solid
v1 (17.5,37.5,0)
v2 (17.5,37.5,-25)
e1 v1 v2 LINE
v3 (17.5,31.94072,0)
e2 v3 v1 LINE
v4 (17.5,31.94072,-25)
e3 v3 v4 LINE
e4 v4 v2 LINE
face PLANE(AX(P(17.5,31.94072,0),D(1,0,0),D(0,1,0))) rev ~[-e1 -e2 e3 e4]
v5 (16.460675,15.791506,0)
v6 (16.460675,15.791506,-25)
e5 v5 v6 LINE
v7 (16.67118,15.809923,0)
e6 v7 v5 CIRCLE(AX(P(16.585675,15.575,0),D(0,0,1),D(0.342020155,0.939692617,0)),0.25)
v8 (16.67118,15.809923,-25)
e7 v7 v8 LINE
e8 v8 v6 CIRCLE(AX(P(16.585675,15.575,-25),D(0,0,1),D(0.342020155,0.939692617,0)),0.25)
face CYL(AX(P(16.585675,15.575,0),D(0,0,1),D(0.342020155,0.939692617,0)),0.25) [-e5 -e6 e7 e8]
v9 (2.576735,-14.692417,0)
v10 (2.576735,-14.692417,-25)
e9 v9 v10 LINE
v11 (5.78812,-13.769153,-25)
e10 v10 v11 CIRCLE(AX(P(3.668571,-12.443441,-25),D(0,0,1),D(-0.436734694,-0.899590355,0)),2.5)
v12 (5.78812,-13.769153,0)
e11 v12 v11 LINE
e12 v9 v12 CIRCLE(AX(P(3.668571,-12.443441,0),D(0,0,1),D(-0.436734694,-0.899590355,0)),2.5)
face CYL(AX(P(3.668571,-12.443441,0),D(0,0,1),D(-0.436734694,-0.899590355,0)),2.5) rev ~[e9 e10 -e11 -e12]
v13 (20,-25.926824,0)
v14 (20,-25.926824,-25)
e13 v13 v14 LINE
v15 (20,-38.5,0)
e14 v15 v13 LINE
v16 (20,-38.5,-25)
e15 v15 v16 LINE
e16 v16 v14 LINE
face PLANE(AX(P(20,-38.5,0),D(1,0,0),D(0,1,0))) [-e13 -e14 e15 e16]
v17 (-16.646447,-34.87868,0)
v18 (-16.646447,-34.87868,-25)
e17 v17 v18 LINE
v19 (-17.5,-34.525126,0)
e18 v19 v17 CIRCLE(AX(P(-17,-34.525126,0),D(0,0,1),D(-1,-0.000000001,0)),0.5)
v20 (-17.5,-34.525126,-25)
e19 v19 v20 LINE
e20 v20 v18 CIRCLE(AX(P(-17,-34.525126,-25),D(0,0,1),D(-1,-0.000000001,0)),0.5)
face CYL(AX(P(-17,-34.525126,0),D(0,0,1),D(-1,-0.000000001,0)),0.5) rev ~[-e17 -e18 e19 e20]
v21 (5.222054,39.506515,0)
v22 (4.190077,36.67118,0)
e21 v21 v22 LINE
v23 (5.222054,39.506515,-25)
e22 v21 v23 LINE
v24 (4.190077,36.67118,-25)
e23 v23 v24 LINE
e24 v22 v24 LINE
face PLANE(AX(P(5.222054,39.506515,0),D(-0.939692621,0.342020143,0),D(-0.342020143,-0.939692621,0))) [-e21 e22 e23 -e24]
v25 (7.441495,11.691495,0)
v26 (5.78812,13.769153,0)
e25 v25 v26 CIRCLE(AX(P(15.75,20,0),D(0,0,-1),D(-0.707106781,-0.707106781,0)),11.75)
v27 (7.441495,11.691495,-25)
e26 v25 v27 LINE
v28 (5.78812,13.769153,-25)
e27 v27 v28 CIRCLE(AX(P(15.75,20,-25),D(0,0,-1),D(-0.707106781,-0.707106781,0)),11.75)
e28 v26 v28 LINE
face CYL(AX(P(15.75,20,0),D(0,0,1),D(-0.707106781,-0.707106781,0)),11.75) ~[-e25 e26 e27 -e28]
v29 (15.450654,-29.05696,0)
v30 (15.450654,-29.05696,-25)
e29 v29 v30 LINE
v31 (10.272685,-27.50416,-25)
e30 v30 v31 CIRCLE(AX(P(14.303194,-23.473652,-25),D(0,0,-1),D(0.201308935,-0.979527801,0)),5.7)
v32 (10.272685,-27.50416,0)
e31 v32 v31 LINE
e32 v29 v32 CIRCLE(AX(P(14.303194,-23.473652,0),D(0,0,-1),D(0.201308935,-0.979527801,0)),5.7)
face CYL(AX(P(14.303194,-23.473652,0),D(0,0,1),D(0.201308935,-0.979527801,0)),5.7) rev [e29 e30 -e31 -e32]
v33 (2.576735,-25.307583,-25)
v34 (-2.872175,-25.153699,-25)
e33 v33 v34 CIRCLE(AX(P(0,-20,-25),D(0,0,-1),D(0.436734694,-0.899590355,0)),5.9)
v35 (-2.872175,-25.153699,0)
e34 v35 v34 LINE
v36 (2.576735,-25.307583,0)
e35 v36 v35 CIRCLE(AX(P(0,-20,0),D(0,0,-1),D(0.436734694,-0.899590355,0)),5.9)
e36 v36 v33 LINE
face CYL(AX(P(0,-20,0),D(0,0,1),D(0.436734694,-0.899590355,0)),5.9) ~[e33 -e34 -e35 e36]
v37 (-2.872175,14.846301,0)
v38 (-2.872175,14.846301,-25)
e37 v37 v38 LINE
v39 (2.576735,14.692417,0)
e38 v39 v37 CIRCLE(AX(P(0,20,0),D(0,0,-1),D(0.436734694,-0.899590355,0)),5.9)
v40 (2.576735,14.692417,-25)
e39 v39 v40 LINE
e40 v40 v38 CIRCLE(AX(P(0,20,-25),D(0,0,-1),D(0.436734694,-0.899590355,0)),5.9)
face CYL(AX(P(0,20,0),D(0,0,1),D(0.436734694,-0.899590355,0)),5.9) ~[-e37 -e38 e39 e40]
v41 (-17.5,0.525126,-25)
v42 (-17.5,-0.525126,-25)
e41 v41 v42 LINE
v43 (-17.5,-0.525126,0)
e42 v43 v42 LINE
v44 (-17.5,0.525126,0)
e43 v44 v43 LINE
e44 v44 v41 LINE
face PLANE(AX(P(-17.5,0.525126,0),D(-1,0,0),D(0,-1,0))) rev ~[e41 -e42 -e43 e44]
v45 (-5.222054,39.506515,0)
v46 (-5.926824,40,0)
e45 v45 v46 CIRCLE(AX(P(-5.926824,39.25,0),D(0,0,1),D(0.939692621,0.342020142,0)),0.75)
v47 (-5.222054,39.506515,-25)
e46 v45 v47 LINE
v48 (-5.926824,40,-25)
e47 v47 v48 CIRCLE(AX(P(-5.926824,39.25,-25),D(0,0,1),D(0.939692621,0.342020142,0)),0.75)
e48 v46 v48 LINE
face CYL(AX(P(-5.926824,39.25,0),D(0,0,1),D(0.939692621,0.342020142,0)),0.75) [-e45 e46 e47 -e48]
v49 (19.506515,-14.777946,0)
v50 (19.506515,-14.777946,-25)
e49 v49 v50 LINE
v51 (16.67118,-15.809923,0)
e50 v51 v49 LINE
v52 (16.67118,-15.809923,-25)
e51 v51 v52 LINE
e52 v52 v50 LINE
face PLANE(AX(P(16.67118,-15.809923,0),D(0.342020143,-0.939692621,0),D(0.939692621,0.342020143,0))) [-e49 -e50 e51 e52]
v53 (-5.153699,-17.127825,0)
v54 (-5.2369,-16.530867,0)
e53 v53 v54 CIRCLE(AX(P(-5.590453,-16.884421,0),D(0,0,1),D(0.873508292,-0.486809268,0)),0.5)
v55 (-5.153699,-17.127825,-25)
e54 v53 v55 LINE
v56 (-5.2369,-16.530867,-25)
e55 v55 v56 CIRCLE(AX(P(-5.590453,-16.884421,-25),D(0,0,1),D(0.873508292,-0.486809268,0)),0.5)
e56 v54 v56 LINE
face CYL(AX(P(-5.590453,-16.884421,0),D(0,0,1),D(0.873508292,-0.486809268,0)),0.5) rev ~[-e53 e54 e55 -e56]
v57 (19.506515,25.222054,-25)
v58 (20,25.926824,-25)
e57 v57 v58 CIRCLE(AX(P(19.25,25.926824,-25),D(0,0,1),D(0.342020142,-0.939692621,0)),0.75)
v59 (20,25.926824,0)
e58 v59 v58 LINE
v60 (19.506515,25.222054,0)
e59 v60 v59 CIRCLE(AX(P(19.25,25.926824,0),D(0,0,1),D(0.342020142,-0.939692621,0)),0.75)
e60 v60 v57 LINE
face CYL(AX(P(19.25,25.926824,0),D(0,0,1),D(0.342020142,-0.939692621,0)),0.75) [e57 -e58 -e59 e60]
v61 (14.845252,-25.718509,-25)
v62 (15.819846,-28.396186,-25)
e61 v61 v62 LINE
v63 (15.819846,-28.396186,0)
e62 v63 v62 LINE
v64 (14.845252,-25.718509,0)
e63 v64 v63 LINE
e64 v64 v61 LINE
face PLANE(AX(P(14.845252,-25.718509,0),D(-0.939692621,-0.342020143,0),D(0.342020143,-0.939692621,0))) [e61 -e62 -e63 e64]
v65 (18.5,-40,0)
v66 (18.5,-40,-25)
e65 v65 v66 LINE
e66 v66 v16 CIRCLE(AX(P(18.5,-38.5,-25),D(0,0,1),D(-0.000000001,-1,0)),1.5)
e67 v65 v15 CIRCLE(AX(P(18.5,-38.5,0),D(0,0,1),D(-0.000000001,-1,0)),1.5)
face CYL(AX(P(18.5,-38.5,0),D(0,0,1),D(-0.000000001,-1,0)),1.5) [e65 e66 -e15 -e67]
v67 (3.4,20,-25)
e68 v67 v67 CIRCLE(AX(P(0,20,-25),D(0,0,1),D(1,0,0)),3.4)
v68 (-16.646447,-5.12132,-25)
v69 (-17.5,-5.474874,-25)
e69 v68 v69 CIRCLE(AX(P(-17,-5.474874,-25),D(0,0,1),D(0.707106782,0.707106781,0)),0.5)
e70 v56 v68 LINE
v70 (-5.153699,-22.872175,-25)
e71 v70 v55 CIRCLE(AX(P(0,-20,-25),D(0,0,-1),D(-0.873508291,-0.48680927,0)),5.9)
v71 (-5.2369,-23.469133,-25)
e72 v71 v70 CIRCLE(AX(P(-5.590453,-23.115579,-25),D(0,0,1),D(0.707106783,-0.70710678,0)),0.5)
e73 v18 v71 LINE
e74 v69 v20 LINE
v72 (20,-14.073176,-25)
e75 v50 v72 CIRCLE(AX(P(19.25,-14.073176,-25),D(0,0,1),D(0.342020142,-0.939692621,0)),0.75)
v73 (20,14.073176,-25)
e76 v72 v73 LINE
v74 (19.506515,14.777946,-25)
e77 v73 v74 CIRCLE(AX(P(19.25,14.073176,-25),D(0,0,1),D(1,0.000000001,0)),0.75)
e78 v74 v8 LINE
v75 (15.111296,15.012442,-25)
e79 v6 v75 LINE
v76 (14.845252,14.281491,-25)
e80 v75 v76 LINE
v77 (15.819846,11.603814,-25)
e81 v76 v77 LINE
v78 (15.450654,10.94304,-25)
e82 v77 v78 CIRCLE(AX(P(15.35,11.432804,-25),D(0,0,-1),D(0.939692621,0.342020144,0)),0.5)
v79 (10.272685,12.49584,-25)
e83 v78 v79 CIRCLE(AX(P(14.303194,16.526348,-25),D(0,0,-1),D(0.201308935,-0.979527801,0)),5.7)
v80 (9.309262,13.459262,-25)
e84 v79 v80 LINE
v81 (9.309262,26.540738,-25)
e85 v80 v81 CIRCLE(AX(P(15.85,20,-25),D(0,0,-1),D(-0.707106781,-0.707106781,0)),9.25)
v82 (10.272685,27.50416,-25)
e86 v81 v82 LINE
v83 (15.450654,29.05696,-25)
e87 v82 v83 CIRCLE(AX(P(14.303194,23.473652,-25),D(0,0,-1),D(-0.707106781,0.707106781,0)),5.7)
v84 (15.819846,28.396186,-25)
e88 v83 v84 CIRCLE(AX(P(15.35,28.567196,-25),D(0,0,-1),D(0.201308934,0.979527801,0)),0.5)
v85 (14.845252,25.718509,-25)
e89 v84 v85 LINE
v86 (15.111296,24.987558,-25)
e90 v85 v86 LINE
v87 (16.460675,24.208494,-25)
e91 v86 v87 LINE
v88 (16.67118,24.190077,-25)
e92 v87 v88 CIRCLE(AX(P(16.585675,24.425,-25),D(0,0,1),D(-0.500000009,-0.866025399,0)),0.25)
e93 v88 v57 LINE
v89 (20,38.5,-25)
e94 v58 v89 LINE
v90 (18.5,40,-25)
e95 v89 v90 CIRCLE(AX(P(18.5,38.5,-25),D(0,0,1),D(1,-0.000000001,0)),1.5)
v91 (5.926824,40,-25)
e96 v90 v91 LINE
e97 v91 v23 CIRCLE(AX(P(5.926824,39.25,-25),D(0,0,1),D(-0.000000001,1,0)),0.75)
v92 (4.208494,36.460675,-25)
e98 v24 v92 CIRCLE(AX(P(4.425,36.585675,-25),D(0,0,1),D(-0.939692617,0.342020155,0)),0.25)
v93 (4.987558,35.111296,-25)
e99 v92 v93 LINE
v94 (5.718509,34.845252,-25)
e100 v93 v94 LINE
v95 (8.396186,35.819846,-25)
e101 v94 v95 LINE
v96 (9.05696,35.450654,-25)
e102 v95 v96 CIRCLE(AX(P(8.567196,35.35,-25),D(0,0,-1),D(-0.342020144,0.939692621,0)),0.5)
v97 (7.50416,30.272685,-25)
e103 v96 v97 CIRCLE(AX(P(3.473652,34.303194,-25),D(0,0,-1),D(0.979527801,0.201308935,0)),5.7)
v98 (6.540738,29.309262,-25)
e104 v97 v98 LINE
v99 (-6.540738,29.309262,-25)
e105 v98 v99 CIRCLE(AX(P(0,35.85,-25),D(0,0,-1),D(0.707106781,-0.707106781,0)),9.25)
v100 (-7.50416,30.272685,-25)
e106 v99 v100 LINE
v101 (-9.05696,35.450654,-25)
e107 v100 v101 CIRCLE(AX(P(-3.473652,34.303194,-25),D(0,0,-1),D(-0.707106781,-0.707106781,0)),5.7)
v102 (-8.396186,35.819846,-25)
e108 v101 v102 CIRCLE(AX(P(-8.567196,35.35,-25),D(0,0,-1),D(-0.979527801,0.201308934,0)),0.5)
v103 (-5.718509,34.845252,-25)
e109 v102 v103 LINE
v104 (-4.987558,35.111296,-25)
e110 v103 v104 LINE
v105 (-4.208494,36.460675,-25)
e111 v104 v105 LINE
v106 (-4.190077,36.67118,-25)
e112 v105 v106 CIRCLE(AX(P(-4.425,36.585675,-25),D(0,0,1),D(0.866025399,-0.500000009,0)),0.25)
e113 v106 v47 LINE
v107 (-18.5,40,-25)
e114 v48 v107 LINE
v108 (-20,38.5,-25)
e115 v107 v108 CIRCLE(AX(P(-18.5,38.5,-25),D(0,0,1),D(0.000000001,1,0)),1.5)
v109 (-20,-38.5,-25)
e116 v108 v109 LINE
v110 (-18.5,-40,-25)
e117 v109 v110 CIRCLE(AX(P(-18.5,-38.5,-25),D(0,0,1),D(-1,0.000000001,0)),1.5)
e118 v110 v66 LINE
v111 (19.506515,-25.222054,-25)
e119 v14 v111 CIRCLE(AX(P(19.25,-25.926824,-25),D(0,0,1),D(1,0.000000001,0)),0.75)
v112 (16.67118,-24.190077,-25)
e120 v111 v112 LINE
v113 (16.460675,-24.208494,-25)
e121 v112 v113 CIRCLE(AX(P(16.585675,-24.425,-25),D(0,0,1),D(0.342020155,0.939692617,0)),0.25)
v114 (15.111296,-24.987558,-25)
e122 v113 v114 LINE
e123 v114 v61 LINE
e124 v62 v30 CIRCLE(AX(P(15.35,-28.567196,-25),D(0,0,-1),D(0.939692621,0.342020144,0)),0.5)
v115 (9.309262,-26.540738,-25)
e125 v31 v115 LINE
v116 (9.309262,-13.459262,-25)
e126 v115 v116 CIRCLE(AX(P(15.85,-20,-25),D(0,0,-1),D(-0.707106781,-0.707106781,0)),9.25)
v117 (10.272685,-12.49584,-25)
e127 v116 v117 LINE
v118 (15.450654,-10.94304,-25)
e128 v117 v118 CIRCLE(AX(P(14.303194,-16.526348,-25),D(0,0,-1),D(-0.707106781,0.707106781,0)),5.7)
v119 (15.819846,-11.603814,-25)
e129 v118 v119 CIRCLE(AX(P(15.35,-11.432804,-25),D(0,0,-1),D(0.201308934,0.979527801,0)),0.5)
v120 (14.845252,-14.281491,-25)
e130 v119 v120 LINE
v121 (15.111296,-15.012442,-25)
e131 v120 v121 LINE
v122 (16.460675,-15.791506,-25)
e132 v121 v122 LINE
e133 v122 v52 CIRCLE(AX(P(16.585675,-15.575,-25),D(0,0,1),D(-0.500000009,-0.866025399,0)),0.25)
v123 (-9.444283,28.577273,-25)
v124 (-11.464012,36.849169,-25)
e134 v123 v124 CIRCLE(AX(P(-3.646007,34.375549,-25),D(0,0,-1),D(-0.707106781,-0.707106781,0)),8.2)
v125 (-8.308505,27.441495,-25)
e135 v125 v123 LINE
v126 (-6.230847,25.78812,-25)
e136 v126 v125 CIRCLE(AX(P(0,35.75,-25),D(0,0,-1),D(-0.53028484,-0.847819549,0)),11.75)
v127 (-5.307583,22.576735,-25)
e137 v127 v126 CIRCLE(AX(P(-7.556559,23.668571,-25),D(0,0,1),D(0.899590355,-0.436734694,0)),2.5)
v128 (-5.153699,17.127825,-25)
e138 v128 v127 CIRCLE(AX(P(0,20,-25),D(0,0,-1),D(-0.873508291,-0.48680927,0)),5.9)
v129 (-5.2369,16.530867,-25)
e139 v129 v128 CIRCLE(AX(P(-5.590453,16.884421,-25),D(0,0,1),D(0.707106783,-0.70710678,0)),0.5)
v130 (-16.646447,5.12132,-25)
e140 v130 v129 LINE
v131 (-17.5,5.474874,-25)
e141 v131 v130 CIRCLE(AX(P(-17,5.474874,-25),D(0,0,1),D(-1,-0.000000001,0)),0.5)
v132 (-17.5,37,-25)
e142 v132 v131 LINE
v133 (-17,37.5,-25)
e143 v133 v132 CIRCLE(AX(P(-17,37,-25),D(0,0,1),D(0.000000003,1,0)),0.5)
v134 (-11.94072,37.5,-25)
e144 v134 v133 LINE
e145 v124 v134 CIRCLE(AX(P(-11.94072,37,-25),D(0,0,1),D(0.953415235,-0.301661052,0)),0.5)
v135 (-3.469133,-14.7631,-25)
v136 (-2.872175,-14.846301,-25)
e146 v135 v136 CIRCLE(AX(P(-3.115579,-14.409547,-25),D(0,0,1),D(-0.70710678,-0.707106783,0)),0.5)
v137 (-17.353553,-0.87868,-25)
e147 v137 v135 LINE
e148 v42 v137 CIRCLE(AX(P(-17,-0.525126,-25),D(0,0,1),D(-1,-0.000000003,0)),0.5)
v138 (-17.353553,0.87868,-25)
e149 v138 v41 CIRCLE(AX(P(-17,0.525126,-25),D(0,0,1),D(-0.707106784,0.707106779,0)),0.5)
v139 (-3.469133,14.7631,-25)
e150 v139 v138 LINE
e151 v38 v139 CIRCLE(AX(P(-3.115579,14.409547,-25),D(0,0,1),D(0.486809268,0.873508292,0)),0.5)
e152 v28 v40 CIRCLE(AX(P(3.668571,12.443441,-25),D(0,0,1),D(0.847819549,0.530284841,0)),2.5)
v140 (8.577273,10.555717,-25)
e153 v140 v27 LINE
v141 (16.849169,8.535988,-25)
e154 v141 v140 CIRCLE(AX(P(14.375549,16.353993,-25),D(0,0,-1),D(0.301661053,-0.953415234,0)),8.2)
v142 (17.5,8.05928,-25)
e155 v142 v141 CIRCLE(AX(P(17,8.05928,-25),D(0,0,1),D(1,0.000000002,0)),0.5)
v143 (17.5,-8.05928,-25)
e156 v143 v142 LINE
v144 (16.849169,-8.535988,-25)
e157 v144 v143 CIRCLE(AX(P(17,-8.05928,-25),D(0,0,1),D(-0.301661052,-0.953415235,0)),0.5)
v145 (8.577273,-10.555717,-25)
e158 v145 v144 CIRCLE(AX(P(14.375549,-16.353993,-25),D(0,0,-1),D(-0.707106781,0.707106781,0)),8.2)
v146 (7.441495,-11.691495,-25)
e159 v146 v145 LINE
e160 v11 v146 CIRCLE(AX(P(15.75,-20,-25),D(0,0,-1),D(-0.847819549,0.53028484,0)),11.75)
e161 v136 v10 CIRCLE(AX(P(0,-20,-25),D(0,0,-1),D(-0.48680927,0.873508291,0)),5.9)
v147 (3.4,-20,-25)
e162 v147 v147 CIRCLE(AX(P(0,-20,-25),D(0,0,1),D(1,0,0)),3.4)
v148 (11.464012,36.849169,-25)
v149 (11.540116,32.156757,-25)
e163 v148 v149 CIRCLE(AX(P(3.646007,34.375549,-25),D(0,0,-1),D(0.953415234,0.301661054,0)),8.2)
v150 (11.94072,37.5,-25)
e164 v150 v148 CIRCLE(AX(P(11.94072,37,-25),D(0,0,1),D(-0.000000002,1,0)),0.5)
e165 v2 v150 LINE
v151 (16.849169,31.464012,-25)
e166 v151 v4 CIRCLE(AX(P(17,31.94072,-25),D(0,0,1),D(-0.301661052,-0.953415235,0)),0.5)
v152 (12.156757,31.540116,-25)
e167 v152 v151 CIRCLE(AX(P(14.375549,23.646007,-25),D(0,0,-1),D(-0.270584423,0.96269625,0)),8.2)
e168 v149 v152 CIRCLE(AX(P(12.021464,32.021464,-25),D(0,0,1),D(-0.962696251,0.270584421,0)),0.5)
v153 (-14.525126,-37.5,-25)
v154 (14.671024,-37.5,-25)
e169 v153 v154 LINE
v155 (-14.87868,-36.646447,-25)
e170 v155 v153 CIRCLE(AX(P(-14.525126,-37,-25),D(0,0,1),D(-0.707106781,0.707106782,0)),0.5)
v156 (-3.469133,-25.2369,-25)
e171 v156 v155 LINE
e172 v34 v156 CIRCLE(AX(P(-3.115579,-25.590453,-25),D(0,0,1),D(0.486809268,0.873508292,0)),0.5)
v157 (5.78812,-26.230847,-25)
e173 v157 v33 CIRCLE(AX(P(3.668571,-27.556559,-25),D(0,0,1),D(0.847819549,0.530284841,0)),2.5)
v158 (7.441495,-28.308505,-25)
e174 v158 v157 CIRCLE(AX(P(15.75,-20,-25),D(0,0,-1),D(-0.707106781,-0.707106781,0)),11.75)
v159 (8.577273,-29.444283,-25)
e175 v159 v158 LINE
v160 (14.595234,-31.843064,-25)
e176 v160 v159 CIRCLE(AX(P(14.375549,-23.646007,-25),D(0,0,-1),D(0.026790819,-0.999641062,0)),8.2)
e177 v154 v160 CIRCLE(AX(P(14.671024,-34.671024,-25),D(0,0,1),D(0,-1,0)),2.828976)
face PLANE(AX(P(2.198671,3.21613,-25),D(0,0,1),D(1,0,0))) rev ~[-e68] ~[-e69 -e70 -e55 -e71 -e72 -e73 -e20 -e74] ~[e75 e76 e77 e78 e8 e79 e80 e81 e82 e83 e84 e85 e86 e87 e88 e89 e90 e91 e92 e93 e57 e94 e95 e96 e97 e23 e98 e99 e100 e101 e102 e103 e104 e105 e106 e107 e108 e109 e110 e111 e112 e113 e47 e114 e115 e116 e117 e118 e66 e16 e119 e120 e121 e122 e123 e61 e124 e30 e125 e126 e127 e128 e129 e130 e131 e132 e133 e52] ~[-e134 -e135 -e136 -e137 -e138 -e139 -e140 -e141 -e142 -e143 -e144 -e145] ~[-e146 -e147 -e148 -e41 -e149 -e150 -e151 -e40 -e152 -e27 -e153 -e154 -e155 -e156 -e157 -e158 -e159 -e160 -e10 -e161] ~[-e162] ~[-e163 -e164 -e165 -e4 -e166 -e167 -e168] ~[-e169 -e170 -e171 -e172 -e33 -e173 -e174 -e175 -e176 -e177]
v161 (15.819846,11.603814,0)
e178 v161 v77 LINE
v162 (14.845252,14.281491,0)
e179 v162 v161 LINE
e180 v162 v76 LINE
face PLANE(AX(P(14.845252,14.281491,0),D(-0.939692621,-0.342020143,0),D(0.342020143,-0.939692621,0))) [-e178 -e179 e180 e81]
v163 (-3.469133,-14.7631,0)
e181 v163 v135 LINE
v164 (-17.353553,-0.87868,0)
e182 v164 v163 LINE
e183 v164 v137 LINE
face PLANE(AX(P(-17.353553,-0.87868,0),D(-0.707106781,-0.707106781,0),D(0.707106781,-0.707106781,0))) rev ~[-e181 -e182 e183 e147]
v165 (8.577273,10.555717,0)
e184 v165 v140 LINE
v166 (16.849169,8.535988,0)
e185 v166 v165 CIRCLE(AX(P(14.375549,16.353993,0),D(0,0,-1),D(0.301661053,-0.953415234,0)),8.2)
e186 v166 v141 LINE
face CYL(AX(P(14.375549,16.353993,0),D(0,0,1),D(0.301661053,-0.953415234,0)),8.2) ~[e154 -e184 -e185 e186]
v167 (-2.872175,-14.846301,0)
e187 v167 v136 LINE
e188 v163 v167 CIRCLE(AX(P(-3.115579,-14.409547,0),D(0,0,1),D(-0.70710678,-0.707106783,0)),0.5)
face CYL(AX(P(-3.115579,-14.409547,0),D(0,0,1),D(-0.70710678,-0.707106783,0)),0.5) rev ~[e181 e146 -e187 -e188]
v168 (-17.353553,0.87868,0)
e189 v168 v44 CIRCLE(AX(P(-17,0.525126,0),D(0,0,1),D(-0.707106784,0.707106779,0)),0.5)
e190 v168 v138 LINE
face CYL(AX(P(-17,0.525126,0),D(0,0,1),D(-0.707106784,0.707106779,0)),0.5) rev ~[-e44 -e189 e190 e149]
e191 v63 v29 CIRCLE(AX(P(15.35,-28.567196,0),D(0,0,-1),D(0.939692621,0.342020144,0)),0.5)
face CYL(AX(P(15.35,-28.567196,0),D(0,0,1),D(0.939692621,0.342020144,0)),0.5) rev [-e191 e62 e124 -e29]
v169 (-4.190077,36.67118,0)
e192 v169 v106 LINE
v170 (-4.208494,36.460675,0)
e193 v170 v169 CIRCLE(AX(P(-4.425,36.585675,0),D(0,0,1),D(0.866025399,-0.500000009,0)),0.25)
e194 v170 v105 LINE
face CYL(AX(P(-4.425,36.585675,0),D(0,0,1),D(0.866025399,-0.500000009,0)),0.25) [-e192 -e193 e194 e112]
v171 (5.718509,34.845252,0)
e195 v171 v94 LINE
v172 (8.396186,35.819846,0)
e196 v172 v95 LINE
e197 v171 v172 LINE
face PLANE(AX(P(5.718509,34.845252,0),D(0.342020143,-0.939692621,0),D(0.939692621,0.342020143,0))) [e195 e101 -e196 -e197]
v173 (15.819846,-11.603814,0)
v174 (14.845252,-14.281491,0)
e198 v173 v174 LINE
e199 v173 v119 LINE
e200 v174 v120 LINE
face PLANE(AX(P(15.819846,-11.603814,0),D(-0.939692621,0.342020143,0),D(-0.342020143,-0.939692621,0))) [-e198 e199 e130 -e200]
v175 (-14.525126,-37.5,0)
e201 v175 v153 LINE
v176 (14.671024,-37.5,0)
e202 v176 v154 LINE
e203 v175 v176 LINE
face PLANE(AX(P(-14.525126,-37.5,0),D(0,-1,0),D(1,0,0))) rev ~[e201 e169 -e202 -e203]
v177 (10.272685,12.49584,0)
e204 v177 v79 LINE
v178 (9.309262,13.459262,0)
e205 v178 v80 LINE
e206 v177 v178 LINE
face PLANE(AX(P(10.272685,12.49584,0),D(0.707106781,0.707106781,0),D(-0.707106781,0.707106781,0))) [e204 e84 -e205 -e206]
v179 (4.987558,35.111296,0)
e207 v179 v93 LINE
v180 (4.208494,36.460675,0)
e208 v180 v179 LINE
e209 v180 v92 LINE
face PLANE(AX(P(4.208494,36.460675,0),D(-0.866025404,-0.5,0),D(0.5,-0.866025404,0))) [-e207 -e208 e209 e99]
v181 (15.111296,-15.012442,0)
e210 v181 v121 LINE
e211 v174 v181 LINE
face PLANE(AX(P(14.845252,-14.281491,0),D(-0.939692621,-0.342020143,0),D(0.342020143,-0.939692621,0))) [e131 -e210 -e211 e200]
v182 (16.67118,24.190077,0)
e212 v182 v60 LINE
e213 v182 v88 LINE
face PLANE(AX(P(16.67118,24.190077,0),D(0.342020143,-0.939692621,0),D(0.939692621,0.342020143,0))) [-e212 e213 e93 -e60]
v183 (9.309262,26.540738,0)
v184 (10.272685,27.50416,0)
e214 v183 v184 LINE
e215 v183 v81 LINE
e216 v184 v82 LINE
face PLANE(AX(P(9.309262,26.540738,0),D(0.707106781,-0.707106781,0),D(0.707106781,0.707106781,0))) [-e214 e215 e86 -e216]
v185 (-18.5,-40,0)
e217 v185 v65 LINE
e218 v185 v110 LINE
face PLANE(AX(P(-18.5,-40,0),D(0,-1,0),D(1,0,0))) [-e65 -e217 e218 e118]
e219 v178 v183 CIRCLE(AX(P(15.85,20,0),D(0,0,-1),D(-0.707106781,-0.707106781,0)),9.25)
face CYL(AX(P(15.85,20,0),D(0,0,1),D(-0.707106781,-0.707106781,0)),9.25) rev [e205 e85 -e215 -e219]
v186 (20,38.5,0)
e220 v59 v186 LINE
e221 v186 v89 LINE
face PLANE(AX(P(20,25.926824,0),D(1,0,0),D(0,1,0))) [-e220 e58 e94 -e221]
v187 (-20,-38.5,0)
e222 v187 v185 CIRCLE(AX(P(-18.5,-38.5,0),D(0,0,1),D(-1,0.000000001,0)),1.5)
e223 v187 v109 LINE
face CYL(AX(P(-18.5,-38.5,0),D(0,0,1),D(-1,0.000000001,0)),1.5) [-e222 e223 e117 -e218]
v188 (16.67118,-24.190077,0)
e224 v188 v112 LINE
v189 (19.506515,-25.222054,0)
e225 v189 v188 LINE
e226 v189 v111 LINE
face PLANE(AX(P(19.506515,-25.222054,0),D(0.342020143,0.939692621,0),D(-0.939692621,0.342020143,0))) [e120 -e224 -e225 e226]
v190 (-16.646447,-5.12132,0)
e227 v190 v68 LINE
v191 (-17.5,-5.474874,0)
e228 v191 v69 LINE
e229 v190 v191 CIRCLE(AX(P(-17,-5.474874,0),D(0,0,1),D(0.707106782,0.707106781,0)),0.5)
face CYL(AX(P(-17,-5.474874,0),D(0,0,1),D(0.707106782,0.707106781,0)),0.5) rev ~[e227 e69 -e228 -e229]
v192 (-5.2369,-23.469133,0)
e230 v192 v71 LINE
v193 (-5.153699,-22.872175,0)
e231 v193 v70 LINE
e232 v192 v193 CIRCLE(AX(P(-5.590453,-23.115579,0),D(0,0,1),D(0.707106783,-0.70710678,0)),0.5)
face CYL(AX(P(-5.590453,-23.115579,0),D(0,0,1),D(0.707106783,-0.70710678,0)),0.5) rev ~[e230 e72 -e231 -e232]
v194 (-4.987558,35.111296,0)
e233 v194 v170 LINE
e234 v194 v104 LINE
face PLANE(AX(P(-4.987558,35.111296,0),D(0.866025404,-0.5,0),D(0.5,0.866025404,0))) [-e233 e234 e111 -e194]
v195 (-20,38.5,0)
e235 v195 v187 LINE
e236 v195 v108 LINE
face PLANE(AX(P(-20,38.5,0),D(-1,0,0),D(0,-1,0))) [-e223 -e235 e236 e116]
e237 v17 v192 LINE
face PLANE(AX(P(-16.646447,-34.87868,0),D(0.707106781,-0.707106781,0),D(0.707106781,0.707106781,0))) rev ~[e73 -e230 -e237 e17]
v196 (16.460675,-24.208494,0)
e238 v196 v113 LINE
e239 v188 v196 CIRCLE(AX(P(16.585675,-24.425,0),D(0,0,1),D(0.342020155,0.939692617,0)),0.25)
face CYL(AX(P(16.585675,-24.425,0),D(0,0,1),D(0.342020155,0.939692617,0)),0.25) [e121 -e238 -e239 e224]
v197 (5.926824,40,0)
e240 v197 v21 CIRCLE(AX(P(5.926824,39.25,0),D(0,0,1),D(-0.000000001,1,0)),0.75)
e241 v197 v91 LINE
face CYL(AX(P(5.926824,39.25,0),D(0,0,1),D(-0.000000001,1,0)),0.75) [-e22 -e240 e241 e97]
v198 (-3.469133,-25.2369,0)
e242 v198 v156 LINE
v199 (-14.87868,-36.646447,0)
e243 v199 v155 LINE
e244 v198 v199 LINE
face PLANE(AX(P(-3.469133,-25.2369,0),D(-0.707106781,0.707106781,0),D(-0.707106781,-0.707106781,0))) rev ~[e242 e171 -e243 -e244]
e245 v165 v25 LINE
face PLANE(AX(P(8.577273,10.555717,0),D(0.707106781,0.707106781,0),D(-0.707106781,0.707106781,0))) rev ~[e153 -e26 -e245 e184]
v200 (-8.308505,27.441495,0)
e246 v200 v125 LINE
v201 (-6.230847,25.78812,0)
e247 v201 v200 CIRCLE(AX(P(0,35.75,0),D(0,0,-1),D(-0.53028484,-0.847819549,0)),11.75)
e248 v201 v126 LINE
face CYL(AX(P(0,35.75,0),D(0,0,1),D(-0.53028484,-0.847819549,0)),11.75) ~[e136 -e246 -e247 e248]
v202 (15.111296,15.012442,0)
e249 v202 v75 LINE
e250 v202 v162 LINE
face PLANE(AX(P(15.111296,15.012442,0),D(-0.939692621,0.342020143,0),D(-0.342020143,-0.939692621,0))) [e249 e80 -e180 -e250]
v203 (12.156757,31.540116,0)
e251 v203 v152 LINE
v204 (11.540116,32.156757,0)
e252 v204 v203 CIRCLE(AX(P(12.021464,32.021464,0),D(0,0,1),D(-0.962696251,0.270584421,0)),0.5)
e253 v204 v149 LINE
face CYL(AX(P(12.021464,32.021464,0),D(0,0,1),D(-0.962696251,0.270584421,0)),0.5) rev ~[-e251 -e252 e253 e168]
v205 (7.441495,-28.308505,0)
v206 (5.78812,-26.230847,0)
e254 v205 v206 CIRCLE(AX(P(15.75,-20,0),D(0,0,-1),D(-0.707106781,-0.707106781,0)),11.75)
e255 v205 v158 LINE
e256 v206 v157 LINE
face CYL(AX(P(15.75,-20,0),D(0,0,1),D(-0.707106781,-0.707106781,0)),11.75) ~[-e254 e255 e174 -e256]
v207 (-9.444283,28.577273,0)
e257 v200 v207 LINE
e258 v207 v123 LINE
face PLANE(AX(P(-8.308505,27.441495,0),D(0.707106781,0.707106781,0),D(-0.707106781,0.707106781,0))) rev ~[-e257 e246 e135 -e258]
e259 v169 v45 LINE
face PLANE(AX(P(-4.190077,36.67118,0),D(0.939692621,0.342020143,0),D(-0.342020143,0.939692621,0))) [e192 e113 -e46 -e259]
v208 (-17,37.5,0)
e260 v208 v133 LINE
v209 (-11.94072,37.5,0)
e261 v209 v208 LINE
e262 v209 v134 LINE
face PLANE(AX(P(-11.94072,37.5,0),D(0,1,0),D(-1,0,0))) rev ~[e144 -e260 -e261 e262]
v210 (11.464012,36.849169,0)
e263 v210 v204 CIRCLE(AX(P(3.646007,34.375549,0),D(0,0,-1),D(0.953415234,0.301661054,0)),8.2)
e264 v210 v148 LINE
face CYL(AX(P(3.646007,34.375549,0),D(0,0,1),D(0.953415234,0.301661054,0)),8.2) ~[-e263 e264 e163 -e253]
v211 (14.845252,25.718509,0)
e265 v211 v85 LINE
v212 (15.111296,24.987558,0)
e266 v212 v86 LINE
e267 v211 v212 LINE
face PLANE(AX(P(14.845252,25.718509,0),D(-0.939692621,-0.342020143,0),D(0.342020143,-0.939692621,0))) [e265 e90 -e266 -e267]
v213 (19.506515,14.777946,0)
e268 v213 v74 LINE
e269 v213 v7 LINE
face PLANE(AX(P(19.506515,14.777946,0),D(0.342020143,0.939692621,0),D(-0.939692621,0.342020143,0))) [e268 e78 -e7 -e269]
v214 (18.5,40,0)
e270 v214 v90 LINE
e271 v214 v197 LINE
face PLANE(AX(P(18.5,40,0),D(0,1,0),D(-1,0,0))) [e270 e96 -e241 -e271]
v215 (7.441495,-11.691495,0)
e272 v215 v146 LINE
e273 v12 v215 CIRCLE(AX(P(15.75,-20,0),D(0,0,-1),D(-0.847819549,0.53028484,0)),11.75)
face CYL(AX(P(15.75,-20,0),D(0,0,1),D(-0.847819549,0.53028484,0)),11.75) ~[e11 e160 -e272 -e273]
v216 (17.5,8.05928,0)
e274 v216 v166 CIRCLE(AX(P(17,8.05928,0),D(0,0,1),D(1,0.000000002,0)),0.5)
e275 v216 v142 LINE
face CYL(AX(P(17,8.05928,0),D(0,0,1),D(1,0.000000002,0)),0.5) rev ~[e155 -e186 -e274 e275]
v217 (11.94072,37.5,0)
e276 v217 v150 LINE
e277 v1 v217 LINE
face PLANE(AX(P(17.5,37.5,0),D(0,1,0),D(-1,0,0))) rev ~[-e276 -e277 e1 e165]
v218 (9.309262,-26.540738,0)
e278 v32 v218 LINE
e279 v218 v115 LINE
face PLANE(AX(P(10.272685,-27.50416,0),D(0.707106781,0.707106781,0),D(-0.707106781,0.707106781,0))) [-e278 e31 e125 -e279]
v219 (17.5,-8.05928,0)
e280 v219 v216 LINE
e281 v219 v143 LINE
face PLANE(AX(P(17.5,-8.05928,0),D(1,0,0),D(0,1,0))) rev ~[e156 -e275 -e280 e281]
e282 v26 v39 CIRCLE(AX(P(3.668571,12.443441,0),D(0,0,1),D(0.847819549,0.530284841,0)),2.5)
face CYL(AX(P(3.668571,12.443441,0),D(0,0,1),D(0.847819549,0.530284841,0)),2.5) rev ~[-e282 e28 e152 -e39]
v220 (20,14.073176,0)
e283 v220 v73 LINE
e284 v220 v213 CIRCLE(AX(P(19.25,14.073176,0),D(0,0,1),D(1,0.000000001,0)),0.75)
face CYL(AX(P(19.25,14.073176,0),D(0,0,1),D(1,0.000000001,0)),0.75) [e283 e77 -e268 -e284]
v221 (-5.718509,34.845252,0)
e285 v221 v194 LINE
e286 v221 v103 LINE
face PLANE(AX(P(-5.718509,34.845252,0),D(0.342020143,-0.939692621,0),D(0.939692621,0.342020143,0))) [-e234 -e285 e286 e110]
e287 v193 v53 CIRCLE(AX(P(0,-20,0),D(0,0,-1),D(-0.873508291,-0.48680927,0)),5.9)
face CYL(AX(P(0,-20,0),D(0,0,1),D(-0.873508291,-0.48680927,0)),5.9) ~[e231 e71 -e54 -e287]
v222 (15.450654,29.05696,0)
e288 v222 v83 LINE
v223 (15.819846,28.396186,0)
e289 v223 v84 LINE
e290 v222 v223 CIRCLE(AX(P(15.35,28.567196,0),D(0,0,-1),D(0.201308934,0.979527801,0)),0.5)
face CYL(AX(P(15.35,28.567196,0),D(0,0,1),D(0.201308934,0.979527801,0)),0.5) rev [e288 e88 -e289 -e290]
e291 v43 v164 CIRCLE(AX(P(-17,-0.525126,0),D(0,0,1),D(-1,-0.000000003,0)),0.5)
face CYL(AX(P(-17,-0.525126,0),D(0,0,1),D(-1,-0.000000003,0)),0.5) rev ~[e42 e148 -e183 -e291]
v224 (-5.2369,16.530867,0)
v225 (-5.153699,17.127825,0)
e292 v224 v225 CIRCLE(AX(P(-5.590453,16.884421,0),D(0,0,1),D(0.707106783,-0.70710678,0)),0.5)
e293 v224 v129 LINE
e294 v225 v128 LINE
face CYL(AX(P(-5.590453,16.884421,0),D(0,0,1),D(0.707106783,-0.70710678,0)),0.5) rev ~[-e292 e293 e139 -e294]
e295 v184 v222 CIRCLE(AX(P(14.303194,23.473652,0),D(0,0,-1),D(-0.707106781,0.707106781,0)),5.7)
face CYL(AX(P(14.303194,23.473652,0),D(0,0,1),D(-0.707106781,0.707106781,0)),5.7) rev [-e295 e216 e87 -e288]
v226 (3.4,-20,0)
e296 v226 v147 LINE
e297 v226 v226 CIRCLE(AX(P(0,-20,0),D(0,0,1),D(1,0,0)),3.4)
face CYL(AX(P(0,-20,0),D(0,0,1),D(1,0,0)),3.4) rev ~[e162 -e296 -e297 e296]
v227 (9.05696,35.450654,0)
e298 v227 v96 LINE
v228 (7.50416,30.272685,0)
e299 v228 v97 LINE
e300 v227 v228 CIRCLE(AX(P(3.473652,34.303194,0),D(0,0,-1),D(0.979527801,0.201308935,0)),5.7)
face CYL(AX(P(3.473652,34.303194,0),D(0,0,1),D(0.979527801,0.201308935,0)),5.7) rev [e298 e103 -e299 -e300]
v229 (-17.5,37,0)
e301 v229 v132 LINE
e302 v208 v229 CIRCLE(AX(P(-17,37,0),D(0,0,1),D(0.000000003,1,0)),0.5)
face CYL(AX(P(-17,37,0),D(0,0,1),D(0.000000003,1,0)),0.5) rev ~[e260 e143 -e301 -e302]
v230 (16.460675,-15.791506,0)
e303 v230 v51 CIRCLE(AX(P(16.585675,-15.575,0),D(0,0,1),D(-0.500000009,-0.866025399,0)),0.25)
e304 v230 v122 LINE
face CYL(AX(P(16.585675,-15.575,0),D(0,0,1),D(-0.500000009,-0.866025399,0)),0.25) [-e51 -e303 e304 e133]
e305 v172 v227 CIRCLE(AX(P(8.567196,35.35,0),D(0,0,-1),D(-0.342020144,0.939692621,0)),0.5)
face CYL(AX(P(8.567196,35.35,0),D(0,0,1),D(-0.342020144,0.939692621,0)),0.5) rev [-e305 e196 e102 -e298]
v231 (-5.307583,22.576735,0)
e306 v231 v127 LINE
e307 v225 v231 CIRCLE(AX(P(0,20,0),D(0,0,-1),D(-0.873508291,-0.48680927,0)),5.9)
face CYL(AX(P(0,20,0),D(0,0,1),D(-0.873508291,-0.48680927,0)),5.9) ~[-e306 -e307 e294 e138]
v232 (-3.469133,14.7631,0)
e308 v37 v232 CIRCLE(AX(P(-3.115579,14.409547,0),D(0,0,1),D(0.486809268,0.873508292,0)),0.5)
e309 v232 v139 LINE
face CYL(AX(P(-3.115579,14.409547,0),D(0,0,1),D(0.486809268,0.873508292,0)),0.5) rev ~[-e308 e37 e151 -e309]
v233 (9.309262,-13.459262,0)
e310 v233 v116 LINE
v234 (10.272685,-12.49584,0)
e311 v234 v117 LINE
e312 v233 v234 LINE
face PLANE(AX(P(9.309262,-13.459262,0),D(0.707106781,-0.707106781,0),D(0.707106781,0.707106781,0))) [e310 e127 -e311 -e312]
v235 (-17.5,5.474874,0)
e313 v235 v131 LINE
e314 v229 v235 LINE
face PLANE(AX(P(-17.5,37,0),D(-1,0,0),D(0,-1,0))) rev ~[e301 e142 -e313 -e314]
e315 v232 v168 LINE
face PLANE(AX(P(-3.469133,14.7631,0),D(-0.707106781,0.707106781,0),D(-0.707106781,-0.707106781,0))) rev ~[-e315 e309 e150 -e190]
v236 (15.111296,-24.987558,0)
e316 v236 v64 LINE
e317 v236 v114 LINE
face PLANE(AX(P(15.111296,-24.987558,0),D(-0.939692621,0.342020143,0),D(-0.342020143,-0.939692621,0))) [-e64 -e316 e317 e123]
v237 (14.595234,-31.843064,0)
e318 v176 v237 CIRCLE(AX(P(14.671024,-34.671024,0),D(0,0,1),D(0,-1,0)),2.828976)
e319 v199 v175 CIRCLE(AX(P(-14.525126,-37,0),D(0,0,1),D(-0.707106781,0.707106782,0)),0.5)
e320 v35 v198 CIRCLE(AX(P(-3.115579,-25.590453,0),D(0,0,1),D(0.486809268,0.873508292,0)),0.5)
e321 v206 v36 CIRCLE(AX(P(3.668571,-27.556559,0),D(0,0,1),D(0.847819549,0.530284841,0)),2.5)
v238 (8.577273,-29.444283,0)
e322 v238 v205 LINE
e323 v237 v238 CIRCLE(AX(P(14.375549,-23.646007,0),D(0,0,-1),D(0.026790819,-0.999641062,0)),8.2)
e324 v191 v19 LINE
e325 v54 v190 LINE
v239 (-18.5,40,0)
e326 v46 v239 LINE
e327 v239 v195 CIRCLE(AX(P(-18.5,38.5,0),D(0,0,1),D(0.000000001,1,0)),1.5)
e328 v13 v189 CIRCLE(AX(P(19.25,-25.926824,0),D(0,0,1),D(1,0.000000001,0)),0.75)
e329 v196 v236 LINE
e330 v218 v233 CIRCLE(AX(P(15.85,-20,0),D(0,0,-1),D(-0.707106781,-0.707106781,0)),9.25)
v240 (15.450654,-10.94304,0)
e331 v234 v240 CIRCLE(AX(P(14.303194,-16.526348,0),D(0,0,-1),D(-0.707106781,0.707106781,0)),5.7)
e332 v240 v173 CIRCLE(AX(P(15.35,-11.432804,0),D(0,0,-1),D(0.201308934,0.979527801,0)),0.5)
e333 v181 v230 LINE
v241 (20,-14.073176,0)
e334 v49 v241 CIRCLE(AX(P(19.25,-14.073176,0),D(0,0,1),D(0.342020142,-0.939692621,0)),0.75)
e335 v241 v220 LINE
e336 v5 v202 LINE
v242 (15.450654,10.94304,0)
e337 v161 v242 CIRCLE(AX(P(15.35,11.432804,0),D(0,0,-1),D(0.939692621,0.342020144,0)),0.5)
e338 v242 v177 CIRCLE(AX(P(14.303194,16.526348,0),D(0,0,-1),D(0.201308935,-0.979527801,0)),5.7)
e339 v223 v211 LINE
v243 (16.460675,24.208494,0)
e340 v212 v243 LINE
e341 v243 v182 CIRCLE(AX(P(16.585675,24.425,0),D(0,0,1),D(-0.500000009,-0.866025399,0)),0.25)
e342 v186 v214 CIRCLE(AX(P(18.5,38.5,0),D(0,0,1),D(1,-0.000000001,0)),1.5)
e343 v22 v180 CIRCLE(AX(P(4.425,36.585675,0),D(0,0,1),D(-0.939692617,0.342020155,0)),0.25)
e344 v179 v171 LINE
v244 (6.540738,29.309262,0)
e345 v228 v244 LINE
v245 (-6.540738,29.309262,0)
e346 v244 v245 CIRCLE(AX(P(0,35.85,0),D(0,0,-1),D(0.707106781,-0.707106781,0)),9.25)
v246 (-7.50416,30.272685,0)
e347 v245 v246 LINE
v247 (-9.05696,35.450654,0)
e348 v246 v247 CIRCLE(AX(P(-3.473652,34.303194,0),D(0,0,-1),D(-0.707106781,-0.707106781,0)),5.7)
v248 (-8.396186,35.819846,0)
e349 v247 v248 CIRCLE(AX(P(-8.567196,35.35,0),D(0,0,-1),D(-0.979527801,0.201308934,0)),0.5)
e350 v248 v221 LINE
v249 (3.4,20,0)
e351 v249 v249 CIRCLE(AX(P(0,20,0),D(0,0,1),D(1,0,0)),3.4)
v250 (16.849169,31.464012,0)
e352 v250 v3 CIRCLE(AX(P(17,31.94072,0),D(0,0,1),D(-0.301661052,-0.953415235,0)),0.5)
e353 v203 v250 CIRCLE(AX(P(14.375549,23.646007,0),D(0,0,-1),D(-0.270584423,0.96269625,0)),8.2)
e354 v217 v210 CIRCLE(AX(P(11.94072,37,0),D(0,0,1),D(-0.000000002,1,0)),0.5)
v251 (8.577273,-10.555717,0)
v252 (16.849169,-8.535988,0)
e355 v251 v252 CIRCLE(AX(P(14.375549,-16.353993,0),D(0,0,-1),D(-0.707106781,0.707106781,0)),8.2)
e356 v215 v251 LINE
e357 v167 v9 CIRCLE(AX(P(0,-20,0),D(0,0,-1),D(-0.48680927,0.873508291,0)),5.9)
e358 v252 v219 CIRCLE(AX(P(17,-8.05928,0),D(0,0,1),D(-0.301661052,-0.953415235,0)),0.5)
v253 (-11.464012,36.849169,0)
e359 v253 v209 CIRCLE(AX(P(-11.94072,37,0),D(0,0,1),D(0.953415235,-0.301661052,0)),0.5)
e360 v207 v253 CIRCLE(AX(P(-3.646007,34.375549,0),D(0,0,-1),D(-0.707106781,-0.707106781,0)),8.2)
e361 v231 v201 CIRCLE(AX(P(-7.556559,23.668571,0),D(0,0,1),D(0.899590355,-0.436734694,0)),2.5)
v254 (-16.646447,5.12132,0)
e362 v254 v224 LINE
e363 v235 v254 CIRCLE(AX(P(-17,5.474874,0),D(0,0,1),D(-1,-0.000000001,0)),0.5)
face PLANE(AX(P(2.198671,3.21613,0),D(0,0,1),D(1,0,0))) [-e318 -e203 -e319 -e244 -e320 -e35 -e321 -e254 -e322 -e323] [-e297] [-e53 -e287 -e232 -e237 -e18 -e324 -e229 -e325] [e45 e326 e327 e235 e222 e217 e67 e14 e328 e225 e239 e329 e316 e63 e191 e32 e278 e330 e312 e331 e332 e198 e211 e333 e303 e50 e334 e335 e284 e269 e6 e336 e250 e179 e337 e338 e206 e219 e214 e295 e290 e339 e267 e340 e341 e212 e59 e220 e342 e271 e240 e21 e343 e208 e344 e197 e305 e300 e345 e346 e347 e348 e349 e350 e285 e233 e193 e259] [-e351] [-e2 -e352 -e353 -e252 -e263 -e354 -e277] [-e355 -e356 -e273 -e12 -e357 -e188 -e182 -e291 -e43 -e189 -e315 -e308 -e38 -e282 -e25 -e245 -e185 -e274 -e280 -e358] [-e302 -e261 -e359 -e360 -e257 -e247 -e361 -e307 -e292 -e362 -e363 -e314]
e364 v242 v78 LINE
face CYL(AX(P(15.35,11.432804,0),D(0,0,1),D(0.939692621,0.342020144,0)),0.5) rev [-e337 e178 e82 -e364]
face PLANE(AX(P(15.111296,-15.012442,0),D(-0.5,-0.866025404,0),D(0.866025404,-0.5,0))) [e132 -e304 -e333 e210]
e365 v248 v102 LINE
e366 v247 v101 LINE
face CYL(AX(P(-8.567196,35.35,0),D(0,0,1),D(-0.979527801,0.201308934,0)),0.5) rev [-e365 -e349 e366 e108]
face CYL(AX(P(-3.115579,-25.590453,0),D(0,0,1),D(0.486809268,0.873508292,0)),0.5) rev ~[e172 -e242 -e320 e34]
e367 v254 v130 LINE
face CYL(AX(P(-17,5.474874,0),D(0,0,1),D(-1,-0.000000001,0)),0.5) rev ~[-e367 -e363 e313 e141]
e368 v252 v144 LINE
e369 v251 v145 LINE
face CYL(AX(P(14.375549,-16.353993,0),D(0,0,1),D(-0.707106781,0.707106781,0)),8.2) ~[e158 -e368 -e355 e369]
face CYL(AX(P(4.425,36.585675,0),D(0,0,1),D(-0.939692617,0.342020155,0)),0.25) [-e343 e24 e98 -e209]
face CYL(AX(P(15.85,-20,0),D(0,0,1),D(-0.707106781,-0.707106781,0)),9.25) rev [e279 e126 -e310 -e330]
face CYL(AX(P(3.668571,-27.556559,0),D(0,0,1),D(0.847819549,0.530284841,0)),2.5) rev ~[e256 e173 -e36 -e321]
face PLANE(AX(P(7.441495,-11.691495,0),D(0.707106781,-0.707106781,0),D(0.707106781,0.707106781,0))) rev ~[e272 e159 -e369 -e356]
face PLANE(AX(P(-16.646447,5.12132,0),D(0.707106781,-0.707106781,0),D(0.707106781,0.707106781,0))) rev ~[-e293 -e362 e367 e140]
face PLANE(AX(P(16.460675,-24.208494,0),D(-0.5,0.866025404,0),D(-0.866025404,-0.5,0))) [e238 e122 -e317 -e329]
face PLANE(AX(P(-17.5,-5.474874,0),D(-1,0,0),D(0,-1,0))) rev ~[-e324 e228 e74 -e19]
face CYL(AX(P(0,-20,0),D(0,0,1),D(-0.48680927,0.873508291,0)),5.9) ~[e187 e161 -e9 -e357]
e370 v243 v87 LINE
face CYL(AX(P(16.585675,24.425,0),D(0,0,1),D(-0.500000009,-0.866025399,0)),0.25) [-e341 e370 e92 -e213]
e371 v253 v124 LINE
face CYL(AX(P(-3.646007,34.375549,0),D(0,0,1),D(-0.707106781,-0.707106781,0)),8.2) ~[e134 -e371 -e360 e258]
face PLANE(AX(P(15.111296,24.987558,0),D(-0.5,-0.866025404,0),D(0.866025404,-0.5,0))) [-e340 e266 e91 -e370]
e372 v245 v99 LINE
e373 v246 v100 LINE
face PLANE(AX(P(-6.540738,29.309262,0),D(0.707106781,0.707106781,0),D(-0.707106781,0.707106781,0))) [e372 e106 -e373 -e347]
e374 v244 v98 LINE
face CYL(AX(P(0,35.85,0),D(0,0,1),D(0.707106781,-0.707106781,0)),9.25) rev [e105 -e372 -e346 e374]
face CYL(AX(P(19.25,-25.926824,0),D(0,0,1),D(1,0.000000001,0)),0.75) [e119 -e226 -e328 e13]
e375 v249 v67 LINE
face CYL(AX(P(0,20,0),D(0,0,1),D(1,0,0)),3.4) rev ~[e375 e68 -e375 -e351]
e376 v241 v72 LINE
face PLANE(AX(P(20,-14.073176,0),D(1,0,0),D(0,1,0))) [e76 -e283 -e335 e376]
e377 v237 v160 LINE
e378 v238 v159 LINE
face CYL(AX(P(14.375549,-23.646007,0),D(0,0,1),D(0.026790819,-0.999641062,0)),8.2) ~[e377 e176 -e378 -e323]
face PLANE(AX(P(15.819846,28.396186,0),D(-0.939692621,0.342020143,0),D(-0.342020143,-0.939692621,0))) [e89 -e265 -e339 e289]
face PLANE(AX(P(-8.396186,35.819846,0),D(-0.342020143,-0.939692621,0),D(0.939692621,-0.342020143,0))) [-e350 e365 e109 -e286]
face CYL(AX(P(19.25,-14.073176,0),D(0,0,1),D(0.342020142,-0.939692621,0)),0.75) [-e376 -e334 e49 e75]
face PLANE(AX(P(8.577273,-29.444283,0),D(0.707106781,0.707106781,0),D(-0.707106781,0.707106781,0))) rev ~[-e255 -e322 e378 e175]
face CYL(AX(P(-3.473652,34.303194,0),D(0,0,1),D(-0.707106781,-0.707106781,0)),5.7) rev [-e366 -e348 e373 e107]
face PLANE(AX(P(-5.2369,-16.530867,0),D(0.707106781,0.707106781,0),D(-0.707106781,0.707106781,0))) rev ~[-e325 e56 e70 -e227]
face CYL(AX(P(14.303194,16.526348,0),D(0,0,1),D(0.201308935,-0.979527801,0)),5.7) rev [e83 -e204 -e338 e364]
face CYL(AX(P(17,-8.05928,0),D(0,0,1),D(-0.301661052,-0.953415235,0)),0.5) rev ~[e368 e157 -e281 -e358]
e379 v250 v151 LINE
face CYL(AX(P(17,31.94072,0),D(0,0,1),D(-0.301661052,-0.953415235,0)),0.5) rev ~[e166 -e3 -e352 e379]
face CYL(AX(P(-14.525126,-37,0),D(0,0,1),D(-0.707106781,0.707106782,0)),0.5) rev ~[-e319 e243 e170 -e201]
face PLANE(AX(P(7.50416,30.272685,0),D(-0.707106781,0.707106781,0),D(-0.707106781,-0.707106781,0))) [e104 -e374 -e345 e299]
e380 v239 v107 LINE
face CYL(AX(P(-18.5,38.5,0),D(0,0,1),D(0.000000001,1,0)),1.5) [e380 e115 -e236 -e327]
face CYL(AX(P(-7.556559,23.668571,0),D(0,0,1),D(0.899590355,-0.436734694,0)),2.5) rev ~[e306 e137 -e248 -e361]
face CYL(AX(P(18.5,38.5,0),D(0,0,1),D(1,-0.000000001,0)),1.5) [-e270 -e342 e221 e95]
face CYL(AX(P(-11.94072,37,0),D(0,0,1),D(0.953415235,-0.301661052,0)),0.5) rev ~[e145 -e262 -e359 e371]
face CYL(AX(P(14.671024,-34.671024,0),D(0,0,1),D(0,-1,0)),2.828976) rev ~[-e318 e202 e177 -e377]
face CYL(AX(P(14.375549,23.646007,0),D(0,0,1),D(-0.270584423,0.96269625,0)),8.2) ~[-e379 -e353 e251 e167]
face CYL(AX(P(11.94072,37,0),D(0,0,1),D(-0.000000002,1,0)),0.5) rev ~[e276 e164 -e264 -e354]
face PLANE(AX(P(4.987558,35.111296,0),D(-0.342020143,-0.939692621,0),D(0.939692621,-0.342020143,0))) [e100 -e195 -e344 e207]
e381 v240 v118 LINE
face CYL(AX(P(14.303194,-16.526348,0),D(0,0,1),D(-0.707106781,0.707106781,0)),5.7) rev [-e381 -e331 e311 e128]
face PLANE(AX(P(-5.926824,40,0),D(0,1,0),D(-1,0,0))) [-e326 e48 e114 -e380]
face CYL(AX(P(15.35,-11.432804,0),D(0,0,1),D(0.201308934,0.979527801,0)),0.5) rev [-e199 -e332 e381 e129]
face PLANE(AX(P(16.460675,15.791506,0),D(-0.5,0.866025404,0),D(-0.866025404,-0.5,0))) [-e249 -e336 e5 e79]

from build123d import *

# Parameters (mm, degrees)
SK_MAIN_EXTRUSION_R  = 3.4
MAIN_EXTRUSION_DEPTH = 25


with BuildPart() as part:
    # Sk Main Extrusion → Main Extrusion (new body)
    with BuildSketch(Plane.XY):
        with BuildLine():
            Line((16.671180212, -15.809923155), (19.506515107, -14.777945649))
            ThreePointArc((19.506515107, -14.777945649), (19.864364033, -14.503358511), (20, -14.073176184))
            Line((20, -14.073176184), (20, 14.073176184))
            ThreePointArc((20, 14.073176184), (19.864364033, 14.503358511), (19.506515107, 14.777945649))
            Line((19.506515107, 14.777945649), (16.671180212, 15.809923155))
            ThreePointArc((16.671180212, 15.809923155), (16.563886241, 15.824048675), (16.460675177, 15.791506351))
            Line((16.460675177, 15.791506351), (15.111296024, 15.012441934))
            Line((15.111296024, 15.012441934), (14.845251581, 14.281490834))
            Line((14.845251581, 14.281490834), (15.81984631, 11.603813821))
            ThreePointArc((15.81984631, 11.603813821), (15.786489799, 11.188925388), (15.450654467, 10.943039849))
            ThreePointArc((15.450654467, 10.943039849), (12.665882372, 11.066566987), (10.272684887, 12.495839661))
            Line((10.272684887, 12.495839661), (9.309262274, 13.459262274))
            ThreePointArc((9.309262274, 13.459262274), (6.6, 20), (9.309262274, 26.540737726))
            Line((9.309262274, 26.540737726), (10.272684887, 27.504160339))
            ThreePointArc((10.272684887, 27.504160339), (12.665882372, 28.933433013), (15.450654467, 29.056960151))
            ThreePointArc((15.450654467, 29.056960151), (15.786489799, 28.811074612), (15.81984631, 28.396186179))
            Line((15.81984631, 28.396186179), (14.845251581, 25.718509166))
            Line((14.845251581, 25.718509166), (15.111296024, 24.987558066))
            Line((15.111296024, 24.987558066), (16.460675177, 24.208493649))
            ThreePointArc((16.460675177, 24.208493649), (16.563886241, 24.175951325), (16.671180212, 24.190076845))
            Line((16.671180212, 24.190076845), (19.506515107, 25.222054351))
            ThreePointArc((19.506515107, 25.222054351), (19.864364033, 25.496641489), (20, 25.926823816))
            Line((20, 25.926823816), (20, 38.5))
            ThreePointArc((20, 38.5), (19.560660172, 39.560660172), (18.5, 40))
            Line((18.5, 40), (5.926823816, 40))
            ThreePointArc((5.926823816, 40), (5.496641489, 39.864364033), (5.222054351, 39.506515107))
            Line((5.222054351, 39.506515107), (4.190076845, 36.671180212))
            ThreePointArc((4.190076845, 36.671180212), (4.175951325, 36.563886241), (4.208493649, 36.460675177))
            Line((4.208493649, 36.460675177), (4.987558066, 35.111296024))
            Line((4.987558066, 35.111296024), (5.718509166, 34.845251581))
            Line((5.718509166, 34.845251581), (8.396186179, 35.81984631))
            ThreePointArc((8.396186179, 35.81984631), (8.811074612, 35.786489799), (9.056960151, 35.450654467))
            ThreePointArc((9.056960151, 35.450654467), (8.933433013, 32.665882372), (7.504160339, 30.272684887))
            Line((7.504160339, 30.272684887), (6.540737726, 29.309262274))
            ThreePointArc((6.540737726, 29.309262274), (0, 26.6), (-6.540737726, 29.309262274))
            Line((-6.540737726, 29.309262274), (-7.504160339, 30.272684887))
            ThreePointArc((-7.504160339, 30.272684887), (-8.933433013, 32.665882372), (-9.056960151, 35.450654467))
            ThreePointArc((-9.056960151, 35.450654467), (-8.811074612, 35.786489799), (-8.396186179, 35.81984631))
            Line((-8.396186179, 35.81984631), (-5.718509166, 34.845251581))
            Line((-5.718509166, 34.845251581), (-4.987558066, 35.111296024))
            Line((-4.987558066, 35.111296024), (-4.208493649, 36.460675177))
            ThreePointArc((-4.208493649, 36.460675177), (-4.175951325, 36.563886241), (-4.190076845, 36.671180212))
            Line((-4.190076845, 36.671180212), (-5.222054351, 39.506515107))
            ThreePointArc((-5.222054351, 39.506515107), (-5.496641489, 39.864364033), (-5.926823816, 40))
            Line((-5.926823816, 40), (-18.5, 40))
            ThreePointArc((-18.5, 40), (-19.560660172, 39.560660172), (-20, 38.5))
            Line((-20, 38.5), (-20, -38.5))
            ThreePointArc((-20, -38.5), (-19.560660172, -39.560660172), (-18.5, -40))
            Line((-18.5, -40), (18.5, -40))
            ThreePointArc((18.5, -40), (19.560660172, -39.560660172), (20, -38.5))
            Line((20, -38.5), (20, -25.926823816))
            ThreePointArc((20, -25.926823816), (19.864364033, -25.496641489), (19.506515107, -25.222054351))
            Line((19.506515107, -25.222054351), (16.671180212, -24.190076845))
            ThreePointArc((16.671180212, -24.190076845), (16.563886241, -24.175951325), (16.460675177, -24.208493649))
            Line((16.460675177, -24.208493649), (15.111296024, -24.987558066))
            Line((15.111296024, -24.987558066), (14.845251581, -25.718509166))
            Line((14.845251581, -25.718509166), (15.81984631, -28.396186179))
            ThreePointArc((15.81984631, -28.396186179), (15.786489799, -28.811074612), (15.450654467, -29.056960151))
            ThreePointArc((15.450654467, -29.056960151), (12.665882372, -28.933433013), (10.272684887, -27.504160339))
            Line((10.272684887, -27.504160339), (9.309262274, -26.540737726))
            ThreePointArc((9.309262274, -26.540737726), (6.6, -20), (9.309262274, -13.459262274))
            Line((9.309262274, -13.459262274), (10.272684887, -12.495839661))
            ThreePointArc((10.272684887, -12.495839661), (12.665882372, -11.066566987), (15.450654467, -10.943039849))
            ThreePointArc((15.450654467, -10.943039849), (15.786489799, -11.188925388), (15.81984631, -11.603813821))
            Line((15.81984631, -11.603813821), (14.845251581, -14.281490834))
            Line((14.845251581, -14.281490834), (15.111296024, -15.012441934))
            Line((15.111296024, -15.012441934), (16.460675177, -15.791506351))
            ThreePointArc((16.460675177, -15.791506351), (16.563886241, -15.824048675), (16.671180212, -15.809923155))
        make_face()
        with Locations((0, -20)):
            Circle(SK_MAIN_EXTRUSION_R, mode=Mode.SUBTRACT)
        with Locations((0, 20)):
            Circle(SK_MAIN_EXTRUSION_R, mode=Mode.SUBTRACT)
        with BuildLine():
            Line((-17.5, 37), (-17.5, 5.474873734))
            ThreePointArc((-17.5, 5.474873734), (-17.191341716, 5.012933968), (-16.646446609, 5.121320344))
            Line((-16.646446609, 5.121320344), (-5.236899672, 16.530867281))
            ThreePointArc((-5.236899672, 16.530867281), (-5.095239754, 16.81540054), (-5.153698917, 17.127825306))
            ThreePointArc((-5.153698917, 17.127825306), (-5.897648575, 19.833442852), (-5.307583096, 22.576734694))
            ThreePointArc((-5.307583096, 22.576734694), (-5.153883821, 24.359333373), (-6.230846881, 25.788120301))
            ThreePointArc((-6.230846881, 25.788120301), (-7.316529108, 26.555931161), (-8.308504679, 27.441495321))
            Line((-8.308504679, 27.441495321), (-9.444282589, 28.577273231))
            ThreePointArc((-9.444282589, 28.577273231), (-11.611987193, 32.430514315), (-11.464011904, 36.849169473))
            ThreePointArc((-11.464011904, 36.849169473), (-11.537349181, 37.295452819), (-11.940719521, 37.5))
            Line((-11.940719521, 37.5), (-17, 37.5))
            ThreePointArc((-17, 37.5), (-17.353553391, 37.353553391), (-17.5, 37))
        make_face(mode=Mode.SUBTRACT)
        with BuildLine():
            Line((-3.469132719, 14.763100328), (-17.353553391, 0.878679656))
            ThreePointArc((-17.353553391, 0.878679656), (-17.461939766, 0.716467982), (-17.5, 0.525126266))
            Line((-17.5, 0.525126266), (-17.5, -0.525126266))
            ThreePointArc((-17.5, -0.525126266), (-17.461939766, -0.716467982), (-17.353553391, -0.878679656))
            Line((-17.353553391, -0.878679656), (-3.469132719, -14.763100328))
            ThreePointArc((-3.469132719, -14.763100328), (-3.18459946, -14.904760246), (-2.872174694, -14.846301083))
            ThreePointArc((-2.872174694, -14.846301083), (-0.166557148, -14.102351425), (2.576734694, -14.692416904))
            ThreePointArc((2.576734694, -14.692416904), (4.359333373, -14.846116179), (5.788120301, -13.769153119))
            ThreePointArc((5.788120301, -13.769153119), (6.555931161, -12.683470892), (7.441495321, -11.691495321))
            Line((7.441495321, -11.691495321), (8.577273231, -10.555717411))
            ThreePointArc((8.577273231, -10.555717411), (12.430514315, -8.388012807), (16.849169473, -8.535988096))
            ThreePointArc((16.849169473, -8.535988096), (17.295452819, -8.462650819), (17.5, -8.059280479))
            Line((17.5, -8.059280479), (17.5, 8.059280479))
            ThreePointArc((17.5, 8.059280479), (17.295452819, 8.462650819), (16.849169473, 8.535988096))
            ThreePointArc((16.849169473, 8.535988096), (12.430514315, 8.388012807), (8.577273231, 10.555717411))
            Line((8.577273231, 10.555717411), (7.441495321, 11.691495321))
            ThreePointArc((7.441495321, 11.691495321), (6.555931161, 12.683470892), (5.788120301, 13.769153119))
            ThreePointArc((5.788120301, 13.769153119), (4.359333373, 14.846116179), (2.576734694, 14.692416904))
            ThreePointArc((2.576734694, 14.692416904), (-0.166557148, 14.102351425), (-2.872174694, 14.846301083))
            ThreePointArc((-2.872174694, 14.846301083), (-3.18459946, 14.904760246), (-3.469132719, 14.763100328))
        make_face(mode=Mode.SUBTRACT)
        with BuildLine():
            Line((-17.5, -5.474873734), (-17.5, -34.525126266))
            ThreePointArc((-17.5, -34.525126266), (-17.191341716, -34.987066032), (-16.646446609, -34.878679656))
            Line((-16.646446609, -34.878679656), (-5.236899672, -23.469132719))
            ThreePointArc((-5.236899672, -23.469132719), (-5.095239754, -23.18459946), (-5.153698917, -22.872174694))
            ThreePointArc((-5.153698917, -22.872174694), (-5.9, -20), (-5.153698917, -17.127825306))
            ThreePointArc((-5.153698917, -17.127825306), (-5.095239754, -16.81540054), (-5.236899672, -16.530867281))
            Line((-5.236899672, -16.530867281), (-16.646446609, -5.121320344))
            ThreePointArc((-16.646446609, -5.121320344), (-17.191341716, -5.012933968), (-17.5, -5.474873734))
        make_face(mode=Mode.SUBTRACT)
        with BuildLine():
            Line((-3.469132719, -25.236899672), (-14.878679656, -36.646446609))
            ThreePointArc((-14.878679656, -36.646446609), (-14.987066032, -37.191341716), (-14.525126266, -37.5))
            Line((-14.525126266, -37.5), (14.67102413, -37.5))
            ThreePointArc((14.67102413, -37.5), (17.499746132, -34.633125439), (14.59523355, -31.843063688))
            ThreePointArc((14.59523355, -31.843063688), (11.339316504, -31.263177929), (8.577273231, -29.444282589))
            Line((8.577273231, -29.444282589), (7.441495321, -28.308504679))
            ThreePointArc((7.441495321, -28.308504679), (6.555931161, -27.316529108), (5.788120301, -26.230846881))
            ThreePointArc((5.788120301, -26.230846881), (4.359333373, -25.153883821), (2.576734694, -25.307583096))
            ThreePointArc((2.576734694, -25.307583096), (-0.166557148, -25.897648575), (-2.872174694, -25.153698917))
            ThreePointArc((-2.872174694, -25.153698917), (-3.18459946, -25.095239754), (-3.469132719, -25.236899672))
        make_face(mode=Mode.SUBTRACT)
        with BuildLine():
            Line((17.5, 31.940719521), (17.5, 37.5))
            Line((17.5, 37.5), (11.940719521, 37.5))
            ThreePointArc((11.940719521, 37.5), (11.537349181, 37.295452819), (11.464011904, 36.849169473))
            ThreePointArc((11.464011904, 36.849169473), (11.844928721, 34.508523804), (11.540116235, 32.156756572))
            ThreePointArc((11.540116235, 32.156756572), (11.66791097, 31.66791097), (12.156756572, 31.540116235))
            ThreePointArc((12.156756572, 31.540116235), (14.508523804, 31.844928721), (16.849169473, 31.464011904))
            ThreePointArc((16.849169473, 31.464011904), (17.295452819, 31.537349181), (17.5, 31.940719521))
        make_face(mode=Mode.SUBTRACT)
    extrude(amount=-MAIN_EXTRUSION_DEPTH)


solid = part.part
